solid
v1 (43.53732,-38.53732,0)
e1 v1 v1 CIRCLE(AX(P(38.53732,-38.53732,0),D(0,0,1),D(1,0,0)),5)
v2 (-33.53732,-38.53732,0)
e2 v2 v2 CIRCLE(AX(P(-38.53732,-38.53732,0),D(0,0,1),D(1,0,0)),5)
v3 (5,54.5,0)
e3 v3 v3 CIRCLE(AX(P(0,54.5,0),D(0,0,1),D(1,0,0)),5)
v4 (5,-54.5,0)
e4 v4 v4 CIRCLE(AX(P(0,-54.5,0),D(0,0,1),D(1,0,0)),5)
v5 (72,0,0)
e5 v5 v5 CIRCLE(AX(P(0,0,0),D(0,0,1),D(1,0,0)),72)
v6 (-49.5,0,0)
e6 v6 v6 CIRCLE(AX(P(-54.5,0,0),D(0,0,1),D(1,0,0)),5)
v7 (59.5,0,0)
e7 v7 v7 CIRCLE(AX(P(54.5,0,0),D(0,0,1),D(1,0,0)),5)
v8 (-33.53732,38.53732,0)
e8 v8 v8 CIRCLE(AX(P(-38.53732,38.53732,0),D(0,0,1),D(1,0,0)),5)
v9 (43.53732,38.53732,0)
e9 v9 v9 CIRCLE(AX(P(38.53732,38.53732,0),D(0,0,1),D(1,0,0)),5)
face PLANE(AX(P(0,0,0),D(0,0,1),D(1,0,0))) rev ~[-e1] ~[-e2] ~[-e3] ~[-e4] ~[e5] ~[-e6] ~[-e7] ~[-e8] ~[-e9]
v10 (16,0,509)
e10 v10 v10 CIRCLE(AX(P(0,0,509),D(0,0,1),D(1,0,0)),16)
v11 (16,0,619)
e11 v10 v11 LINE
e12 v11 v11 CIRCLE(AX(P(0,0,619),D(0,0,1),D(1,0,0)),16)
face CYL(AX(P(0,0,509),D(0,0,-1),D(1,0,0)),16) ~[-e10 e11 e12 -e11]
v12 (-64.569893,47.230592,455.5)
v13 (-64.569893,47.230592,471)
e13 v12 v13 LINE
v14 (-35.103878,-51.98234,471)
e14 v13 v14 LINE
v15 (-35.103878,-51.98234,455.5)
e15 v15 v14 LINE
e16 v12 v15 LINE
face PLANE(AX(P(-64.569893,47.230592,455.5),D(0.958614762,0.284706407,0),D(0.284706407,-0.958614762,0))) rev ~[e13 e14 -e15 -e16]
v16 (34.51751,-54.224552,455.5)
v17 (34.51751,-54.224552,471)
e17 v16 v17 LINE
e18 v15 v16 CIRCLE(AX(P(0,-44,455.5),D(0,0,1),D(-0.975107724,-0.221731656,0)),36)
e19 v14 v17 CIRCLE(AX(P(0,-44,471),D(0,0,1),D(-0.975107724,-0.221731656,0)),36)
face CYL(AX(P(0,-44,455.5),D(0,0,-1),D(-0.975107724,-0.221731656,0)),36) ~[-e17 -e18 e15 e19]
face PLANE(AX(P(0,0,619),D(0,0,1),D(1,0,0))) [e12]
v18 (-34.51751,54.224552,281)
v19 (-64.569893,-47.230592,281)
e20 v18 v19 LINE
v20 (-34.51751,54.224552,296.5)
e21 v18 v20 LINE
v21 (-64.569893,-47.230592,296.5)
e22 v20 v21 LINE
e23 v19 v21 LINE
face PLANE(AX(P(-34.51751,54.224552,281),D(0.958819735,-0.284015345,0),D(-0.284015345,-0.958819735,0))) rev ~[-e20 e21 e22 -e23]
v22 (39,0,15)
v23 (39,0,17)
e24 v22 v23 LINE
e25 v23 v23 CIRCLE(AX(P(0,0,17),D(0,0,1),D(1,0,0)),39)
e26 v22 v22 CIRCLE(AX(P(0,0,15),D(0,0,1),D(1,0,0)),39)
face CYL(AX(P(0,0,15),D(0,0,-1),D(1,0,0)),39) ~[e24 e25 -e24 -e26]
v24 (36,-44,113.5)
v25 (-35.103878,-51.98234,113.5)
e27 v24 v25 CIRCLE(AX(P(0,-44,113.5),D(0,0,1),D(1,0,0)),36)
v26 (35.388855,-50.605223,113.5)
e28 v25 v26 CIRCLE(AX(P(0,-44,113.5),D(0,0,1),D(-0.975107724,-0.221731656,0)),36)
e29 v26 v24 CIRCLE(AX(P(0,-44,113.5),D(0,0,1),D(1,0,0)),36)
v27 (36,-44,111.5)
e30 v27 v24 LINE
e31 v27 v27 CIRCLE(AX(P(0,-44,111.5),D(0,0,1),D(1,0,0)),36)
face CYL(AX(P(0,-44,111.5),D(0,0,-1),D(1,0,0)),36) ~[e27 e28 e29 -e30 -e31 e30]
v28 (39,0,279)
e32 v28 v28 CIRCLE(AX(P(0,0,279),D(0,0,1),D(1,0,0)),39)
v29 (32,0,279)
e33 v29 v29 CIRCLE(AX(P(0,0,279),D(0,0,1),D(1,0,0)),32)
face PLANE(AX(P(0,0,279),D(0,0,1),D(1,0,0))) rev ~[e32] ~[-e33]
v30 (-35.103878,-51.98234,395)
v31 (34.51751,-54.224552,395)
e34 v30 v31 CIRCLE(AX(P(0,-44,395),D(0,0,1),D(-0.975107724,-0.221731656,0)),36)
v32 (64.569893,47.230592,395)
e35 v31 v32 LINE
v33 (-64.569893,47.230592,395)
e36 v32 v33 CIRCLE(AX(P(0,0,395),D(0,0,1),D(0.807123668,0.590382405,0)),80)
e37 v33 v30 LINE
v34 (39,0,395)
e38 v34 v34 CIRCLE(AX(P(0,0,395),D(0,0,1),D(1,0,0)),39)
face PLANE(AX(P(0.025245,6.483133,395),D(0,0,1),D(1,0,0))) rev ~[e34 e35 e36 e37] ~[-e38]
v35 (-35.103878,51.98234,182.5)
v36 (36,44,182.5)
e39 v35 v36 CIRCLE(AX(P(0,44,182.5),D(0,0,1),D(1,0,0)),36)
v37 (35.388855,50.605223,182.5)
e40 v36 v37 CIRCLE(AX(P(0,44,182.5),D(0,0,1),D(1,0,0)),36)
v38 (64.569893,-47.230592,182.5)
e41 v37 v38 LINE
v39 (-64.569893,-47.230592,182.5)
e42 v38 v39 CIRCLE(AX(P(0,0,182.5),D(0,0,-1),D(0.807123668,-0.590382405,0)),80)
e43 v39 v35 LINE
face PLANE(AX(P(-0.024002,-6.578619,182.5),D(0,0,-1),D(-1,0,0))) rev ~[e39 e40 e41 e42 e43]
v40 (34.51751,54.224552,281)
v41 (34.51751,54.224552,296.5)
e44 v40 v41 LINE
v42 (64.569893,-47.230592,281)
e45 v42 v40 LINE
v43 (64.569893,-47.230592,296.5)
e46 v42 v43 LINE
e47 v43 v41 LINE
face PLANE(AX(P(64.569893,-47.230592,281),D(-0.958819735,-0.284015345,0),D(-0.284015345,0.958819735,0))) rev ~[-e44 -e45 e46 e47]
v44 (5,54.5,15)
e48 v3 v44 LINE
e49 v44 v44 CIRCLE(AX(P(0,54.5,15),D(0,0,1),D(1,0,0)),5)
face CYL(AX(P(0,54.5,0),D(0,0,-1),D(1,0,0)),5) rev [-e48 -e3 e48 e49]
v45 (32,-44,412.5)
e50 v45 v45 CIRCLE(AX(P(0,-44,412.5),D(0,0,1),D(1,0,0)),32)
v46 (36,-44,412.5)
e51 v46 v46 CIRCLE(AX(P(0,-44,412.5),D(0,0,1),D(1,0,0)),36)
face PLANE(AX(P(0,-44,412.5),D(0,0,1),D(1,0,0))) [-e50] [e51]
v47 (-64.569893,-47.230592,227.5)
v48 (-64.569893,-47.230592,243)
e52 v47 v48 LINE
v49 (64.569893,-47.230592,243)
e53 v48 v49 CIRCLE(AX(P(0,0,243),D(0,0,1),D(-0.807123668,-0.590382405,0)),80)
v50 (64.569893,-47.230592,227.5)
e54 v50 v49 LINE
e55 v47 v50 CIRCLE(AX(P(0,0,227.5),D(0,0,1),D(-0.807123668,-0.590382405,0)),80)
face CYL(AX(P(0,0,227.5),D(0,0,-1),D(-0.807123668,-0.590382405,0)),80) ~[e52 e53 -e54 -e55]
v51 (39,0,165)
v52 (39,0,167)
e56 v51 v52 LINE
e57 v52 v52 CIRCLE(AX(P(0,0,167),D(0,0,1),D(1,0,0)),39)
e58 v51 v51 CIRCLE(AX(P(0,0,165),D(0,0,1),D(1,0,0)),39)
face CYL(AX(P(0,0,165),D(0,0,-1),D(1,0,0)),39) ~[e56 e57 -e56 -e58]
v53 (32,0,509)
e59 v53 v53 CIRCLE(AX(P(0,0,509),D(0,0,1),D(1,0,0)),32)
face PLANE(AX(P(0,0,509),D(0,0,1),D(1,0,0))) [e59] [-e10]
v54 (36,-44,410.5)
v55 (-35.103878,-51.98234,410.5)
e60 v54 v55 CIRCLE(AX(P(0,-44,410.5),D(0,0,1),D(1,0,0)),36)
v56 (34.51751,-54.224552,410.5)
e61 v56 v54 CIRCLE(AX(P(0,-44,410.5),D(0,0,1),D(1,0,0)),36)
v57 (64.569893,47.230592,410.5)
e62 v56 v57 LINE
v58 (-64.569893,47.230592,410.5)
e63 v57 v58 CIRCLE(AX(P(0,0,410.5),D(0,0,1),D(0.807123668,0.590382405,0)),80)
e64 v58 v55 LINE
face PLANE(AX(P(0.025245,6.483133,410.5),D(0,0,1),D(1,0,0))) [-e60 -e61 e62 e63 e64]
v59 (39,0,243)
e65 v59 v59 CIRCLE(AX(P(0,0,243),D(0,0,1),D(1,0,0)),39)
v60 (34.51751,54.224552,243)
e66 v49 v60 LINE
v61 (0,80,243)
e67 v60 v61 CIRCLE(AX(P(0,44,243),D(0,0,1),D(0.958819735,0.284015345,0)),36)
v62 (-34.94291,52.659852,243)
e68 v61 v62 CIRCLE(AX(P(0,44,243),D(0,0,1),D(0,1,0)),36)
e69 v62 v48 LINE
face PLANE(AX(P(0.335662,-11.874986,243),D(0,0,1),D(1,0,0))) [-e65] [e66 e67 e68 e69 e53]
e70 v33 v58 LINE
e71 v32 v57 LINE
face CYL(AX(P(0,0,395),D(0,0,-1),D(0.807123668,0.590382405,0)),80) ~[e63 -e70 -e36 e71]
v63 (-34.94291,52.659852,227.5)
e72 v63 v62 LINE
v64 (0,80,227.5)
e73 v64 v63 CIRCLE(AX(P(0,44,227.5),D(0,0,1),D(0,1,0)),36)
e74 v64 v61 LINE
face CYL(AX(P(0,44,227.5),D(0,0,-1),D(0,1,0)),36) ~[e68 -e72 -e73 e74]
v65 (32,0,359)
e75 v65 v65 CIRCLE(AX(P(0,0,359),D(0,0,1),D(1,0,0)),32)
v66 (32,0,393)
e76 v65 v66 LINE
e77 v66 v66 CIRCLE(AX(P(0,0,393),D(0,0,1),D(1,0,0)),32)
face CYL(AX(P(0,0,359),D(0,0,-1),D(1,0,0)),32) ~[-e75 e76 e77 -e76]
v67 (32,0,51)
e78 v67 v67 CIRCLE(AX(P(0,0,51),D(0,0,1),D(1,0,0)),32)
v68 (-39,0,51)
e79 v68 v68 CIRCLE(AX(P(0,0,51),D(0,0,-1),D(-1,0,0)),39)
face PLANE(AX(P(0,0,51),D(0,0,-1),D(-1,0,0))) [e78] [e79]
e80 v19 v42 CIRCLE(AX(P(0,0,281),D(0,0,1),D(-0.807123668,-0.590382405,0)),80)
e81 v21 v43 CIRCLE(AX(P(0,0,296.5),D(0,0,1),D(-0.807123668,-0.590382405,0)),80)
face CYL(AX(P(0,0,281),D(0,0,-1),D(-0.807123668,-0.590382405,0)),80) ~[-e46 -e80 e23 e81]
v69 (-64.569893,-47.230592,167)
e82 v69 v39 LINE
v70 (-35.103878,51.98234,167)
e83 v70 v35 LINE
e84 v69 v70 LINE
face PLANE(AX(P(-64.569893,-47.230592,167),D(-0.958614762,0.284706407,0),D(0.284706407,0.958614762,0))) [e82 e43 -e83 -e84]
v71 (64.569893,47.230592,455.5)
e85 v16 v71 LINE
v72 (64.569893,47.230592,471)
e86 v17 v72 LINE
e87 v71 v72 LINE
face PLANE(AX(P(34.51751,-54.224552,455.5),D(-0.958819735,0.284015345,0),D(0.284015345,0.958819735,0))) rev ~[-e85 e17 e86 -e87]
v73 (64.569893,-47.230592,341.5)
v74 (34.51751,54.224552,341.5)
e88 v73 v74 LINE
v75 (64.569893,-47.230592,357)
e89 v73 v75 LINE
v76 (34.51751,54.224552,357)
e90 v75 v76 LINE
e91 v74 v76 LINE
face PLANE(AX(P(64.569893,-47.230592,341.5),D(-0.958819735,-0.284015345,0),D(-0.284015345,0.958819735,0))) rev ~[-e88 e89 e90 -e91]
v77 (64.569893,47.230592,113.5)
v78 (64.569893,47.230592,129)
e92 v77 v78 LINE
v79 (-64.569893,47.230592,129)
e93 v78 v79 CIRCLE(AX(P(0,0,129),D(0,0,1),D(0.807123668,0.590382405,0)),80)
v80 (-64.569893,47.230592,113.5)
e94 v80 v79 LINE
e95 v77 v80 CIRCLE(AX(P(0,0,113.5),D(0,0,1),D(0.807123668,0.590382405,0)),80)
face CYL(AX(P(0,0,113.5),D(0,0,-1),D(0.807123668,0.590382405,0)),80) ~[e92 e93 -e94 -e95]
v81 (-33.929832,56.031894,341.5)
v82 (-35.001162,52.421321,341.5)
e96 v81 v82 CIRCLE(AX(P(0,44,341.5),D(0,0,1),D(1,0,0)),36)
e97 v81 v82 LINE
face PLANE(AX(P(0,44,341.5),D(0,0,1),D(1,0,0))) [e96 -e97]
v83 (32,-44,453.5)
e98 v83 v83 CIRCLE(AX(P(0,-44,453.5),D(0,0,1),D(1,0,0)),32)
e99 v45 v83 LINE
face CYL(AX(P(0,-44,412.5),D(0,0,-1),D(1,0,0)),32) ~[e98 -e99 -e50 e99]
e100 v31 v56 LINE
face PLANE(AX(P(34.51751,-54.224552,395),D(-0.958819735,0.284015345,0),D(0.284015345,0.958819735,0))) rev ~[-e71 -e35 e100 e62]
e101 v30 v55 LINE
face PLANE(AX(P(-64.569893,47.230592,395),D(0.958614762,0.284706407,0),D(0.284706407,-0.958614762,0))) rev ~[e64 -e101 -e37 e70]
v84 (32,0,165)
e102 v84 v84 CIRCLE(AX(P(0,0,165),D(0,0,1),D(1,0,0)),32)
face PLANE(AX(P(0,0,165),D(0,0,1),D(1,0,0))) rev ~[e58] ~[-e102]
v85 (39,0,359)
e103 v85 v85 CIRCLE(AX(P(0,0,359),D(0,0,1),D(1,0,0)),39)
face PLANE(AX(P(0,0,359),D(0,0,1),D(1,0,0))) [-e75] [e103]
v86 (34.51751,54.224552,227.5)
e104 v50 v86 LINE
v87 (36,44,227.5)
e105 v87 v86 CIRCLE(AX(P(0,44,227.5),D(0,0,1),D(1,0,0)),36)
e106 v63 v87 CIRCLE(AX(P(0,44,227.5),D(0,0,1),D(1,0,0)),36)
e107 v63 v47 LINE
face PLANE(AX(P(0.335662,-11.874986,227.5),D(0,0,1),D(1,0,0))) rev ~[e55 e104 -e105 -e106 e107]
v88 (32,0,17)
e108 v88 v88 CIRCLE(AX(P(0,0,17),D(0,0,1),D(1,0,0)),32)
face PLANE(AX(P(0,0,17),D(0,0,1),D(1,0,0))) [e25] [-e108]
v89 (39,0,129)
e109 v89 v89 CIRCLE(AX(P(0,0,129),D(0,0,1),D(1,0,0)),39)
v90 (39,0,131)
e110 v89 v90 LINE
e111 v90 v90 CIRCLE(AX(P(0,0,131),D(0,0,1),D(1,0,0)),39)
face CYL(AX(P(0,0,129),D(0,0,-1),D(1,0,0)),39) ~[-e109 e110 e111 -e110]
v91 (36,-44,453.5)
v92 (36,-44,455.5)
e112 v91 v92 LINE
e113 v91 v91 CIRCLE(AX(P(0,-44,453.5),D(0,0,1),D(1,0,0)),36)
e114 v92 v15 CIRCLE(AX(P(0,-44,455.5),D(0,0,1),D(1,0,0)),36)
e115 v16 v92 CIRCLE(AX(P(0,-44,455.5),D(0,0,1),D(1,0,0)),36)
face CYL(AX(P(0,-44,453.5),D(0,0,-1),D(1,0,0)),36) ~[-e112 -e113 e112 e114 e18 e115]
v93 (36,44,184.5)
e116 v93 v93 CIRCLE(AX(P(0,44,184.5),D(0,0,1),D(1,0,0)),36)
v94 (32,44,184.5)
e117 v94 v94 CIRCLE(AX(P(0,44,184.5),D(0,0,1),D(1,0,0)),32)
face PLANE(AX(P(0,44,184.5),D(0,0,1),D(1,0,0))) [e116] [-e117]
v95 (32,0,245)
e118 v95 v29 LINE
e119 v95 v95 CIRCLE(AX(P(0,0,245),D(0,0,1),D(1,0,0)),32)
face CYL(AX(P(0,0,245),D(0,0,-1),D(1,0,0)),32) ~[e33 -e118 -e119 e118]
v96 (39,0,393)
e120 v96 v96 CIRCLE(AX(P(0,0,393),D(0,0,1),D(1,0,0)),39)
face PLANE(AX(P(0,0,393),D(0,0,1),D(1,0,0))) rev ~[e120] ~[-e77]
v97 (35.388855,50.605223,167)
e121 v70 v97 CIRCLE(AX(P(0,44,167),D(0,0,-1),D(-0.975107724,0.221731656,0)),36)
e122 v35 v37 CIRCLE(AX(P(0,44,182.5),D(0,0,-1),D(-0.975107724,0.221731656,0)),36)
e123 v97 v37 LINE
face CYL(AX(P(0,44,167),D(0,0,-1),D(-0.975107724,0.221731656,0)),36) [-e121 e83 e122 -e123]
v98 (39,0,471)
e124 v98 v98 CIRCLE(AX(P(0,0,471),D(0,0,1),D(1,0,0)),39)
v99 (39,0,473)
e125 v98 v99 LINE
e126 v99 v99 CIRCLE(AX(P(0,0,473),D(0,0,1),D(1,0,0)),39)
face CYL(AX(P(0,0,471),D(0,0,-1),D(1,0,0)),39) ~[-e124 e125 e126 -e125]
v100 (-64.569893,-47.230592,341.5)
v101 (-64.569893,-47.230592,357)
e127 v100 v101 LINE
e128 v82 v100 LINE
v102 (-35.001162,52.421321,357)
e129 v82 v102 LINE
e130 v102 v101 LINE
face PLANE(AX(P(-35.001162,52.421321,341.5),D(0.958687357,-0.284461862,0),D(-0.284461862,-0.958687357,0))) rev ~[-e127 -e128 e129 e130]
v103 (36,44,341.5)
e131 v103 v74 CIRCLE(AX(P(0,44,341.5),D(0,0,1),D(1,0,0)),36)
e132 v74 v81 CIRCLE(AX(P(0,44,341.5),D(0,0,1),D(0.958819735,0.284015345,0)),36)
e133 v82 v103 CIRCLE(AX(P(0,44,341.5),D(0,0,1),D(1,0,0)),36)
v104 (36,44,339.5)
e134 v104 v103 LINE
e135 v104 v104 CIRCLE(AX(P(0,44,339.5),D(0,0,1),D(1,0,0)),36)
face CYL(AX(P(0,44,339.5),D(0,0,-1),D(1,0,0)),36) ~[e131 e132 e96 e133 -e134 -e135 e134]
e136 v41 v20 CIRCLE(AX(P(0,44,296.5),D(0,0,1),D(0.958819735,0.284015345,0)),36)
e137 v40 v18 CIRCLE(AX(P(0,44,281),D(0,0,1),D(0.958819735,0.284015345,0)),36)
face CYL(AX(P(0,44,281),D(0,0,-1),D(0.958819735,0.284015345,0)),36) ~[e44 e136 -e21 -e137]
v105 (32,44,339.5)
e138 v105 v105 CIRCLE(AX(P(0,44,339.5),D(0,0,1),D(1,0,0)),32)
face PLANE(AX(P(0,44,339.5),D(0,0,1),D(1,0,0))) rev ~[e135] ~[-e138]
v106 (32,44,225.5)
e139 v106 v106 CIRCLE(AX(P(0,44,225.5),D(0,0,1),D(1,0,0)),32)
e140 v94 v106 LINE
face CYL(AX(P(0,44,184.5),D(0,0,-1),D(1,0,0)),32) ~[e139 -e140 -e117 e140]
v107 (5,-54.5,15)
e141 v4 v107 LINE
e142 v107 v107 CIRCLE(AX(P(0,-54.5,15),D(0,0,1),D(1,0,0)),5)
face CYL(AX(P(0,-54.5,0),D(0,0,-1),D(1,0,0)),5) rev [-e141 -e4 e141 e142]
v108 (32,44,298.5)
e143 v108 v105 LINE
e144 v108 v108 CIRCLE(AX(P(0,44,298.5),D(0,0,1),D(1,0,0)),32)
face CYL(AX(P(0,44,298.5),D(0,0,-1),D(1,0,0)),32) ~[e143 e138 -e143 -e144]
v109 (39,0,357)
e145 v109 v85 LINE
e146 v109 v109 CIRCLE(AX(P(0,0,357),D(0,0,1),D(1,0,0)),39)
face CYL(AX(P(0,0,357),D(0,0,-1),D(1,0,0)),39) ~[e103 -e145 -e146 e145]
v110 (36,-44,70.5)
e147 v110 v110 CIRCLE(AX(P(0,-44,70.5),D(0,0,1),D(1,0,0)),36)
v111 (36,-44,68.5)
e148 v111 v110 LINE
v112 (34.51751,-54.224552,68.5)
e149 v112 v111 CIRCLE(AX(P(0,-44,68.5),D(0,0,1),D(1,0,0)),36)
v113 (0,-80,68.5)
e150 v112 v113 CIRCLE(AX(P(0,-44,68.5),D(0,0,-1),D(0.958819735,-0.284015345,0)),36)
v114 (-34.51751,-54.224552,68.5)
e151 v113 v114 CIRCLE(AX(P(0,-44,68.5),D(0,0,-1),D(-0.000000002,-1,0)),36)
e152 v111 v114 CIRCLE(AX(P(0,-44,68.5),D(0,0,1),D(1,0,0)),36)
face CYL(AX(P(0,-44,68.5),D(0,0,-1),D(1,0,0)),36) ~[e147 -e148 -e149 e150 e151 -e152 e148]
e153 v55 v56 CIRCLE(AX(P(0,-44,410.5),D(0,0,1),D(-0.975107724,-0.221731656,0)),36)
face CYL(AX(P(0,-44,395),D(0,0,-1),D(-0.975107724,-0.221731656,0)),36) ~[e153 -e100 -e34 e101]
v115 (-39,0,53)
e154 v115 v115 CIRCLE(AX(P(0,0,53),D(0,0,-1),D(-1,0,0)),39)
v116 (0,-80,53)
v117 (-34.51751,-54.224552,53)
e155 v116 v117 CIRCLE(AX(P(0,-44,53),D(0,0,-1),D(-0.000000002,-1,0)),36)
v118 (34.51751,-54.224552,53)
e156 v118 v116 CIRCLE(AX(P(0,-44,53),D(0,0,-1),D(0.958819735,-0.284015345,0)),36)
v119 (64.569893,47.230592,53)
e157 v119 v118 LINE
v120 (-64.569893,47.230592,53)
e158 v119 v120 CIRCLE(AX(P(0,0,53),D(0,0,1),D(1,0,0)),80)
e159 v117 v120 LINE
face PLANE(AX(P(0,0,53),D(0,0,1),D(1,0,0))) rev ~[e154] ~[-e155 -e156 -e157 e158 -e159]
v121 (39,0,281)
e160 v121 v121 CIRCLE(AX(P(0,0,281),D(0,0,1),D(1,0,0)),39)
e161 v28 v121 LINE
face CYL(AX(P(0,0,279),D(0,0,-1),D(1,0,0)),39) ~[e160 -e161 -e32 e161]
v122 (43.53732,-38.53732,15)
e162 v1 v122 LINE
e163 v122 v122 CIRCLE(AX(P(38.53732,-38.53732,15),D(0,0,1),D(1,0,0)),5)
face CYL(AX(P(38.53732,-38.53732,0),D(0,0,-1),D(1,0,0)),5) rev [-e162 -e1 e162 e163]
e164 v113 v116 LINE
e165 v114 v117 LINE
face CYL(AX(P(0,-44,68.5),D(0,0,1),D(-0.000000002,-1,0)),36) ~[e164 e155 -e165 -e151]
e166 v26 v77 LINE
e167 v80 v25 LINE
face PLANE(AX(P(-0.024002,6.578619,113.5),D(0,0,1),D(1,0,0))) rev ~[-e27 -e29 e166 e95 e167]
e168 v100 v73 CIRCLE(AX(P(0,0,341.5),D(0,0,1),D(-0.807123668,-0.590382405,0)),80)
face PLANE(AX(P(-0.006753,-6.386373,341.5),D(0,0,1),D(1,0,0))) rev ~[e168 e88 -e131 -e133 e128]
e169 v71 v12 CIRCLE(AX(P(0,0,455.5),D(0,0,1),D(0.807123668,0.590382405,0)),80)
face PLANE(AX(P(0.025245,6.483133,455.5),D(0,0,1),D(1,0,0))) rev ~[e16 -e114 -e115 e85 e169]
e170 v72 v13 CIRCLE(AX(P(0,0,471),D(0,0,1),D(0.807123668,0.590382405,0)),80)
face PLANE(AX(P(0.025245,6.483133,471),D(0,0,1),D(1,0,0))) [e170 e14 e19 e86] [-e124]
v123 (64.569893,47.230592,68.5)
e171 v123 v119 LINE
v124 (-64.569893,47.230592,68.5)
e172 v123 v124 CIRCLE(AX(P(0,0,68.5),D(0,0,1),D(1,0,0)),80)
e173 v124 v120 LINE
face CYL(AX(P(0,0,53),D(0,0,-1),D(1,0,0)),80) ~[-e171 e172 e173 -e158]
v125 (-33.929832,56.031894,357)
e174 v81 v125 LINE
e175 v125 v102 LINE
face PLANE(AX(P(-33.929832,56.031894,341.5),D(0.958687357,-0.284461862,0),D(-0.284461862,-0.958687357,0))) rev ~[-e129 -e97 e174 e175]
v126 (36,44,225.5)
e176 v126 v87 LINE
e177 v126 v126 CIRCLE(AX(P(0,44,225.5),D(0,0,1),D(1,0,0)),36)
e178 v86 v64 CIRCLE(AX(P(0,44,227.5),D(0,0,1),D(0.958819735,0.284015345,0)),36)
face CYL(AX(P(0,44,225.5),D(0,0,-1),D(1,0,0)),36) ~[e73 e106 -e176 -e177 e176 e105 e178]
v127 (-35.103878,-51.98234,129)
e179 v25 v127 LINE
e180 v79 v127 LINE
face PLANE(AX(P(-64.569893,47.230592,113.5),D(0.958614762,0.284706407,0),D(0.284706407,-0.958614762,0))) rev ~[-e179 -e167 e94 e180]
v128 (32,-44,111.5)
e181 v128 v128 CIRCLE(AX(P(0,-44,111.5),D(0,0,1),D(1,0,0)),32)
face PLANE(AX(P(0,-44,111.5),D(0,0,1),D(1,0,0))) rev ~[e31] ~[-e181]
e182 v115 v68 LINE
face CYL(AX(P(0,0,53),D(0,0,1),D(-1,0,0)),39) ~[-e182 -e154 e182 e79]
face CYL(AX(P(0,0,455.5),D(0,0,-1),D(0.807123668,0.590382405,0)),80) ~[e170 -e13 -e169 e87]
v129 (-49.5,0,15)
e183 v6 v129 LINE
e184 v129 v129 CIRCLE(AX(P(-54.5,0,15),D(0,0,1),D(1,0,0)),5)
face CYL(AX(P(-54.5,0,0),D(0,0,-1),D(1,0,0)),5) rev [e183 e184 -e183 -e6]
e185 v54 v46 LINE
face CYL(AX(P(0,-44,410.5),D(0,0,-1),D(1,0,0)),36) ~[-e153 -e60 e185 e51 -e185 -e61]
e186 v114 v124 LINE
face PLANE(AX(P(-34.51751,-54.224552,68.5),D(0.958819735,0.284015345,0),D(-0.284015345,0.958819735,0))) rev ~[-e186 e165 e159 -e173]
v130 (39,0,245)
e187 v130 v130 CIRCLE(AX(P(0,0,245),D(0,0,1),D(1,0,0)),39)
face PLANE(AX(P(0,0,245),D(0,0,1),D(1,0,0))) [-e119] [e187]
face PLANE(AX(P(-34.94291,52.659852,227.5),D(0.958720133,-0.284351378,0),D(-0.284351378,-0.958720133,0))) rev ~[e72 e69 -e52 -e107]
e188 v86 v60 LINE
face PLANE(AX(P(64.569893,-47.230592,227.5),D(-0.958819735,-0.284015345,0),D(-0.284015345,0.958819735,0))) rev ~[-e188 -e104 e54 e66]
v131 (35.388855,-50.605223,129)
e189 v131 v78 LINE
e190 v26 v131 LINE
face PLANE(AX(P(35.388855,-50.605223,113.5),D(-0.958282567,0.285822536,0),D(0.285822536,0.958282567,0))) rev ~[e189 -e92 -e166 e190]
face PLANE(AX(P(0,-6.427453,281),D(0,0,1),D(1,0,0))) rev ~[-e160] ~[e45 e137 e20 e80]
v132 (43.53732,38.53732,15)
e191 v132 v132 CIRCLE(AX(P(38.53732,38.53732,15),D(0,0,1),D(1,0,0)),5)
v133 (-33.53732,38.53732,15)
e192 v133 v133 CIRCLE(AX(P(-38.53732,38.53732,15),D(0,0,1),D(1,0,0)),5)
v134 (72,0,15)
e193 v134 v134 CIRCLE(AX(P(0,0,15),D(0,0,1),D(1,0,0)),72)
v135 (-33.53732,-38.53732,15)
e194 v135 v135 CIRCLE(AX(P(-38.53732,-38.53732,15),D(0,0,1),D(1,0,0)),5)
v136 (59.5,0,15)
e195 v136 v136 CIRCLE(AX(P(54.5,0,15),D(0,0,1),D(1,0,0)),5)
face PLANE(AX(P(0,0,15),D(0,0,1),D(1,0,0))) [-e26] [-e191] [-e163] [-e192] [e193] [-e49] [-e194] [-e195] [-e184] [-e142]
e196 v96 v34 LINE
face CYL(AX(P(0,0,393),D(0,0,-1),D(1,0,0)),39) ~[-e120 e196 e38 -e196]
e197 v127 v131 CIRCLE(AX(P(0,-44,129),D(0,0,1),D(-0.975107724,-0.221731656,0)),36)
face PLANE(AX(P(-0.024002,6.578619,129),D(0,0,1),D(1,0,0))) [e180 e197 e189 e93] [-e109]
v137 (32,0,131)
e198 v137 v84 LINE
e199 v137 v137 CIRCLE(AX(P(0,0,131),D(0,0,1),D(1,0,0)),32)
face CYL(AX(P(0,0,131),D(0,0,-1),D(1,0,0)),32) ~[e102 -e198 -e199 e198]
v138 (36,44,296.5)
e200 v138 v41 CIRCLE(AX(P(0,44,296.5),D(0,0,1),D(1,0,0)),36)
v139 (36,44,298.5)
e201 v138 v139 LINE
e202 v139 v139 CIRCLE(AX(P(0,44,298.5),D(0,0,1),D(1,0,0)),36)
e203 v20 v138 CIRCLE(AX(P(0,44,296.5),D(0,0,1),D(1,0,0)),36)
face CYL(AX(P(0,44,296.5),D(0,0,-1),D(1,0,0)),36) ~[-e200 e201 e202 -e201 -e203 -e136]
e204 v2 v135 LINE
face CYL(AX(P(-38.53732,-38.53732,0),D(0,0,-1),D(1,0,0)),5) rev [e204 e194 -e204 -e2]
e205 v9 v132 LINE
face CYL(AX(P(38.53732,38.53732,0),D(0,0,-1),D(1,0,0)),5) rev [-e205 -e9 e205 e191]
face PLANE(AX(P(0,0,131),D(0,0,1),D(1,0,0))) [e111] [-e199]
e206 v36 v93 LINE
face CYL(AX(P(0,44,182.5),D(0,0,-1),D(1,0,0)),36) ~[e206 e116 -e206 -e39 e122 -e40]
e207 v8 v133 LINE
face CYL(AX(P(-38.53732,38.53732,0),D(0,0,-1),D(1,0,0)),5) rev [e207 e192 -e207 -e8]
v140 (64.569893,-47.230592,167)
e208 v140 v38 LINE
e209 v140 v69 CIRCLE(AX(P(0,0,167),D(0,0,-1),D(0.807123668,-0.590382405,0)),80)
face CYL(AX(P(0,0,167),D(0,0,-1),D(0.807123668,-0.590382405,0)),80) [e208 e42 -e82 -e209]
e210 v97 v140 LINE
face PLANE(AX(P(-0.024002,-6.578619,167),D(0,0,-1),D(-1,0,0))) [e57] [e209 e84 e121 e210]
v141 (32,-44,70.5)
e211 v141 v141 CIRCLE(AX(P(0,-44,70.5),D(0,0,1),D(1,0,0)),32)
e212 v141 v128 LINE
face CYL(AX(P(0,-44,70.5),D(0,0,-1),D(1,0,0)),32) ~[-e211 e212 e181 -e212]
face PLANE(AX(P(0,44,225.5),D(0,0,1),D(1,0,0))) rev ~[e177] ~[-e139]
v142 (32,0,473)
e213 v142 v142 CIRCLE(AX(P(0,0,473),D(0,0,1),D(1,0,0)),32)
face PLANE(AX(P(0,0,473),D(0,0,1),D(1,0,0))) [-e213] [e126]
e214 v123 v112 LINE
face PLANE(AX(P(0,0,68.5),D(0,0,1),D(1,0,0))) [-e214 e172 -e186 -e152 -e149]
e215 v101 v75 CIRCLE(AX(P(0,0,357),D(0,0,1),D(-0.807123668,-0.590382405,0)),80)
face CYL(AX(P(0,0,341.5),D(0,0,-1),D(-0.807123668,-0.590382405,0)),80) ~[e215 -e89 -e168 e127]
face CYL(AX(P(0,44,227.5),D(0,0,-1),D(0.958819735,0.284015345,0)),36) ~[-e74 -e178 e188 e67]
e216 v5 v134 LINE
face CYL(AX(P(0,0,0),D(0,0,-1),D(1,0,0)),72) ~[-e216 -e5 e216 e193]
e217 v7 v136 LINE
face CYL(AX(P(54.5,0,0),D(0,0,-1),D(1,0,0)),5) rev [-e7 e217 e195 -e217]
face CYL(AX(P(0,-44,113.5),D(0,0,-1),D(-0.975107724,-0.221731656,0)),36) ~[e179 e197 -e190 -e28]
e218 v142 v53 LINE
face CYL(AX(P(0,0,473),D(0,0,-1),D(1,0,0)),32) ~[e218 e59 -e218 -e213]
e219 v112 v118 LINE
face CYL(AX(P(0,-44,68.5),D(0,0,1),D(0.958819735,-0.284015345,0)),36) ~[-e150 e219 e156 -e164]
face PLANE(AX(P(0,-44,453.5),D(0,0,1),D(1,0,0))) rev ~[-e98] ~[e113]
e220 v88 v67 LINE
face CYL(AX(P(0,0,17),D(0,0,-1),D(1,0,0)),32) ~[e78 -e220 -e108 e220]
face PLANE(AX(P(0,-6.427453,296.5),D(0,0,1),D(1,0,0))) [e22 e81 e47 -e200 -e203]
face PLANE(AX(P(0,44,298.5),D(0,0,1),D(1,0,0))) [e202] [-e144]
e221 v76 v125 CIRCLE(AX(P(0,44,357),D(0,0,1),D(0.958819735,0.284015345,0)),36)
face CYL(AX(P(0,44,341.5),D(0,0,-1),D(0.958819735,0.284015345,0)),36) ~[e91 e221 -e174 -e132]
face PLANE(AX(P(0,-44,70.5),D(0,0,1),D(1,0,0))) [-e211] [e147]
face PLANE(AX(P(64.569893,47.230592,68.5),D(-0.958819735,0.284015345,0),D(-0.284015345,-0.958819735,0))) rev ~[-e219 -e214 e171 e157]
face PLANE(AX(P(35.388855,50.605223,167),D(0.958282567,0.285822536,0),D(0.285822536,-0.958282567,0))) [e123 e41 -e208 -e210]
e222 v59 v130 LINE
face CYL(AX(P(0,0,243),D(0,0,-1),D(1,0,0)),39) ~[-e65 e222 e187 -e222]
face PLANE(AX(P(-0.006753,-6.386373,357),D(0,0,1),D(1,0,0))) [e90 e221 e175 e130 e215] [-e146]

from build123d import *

# Parameters (mm, degrees)
SKETCH1_R            = 72
SKETCH1_R_2          = 5
BOSS_EXTRUDE1_DEPTH  = 15
SKETCH2_R            = 39
BOSS_EXTRUDE2_DEPTH  = 2
SKETCH3_R            = 32
BOSS_EXTRUDE3_DEPTH  = 36
SKETCH4_R            = 80
BOSS_EXTRUDE4_DEPTH  = 15.5
CUT_EXTRUDE2_DEPTH   = 15.5
SKETCH7_R            = 39
SKETCH7_R_2          = 32
BOSS_EXTRUDE6_DEPTH  = 2
SKETCH9_R            = 36
BOSS_EXTRUDE7_DEPTH  = 2
SKETCH10_R           = 32
BOSS_EXTRUDE8_DEPTH  = 41
SKETCH11_R           = 36
BOSS_EXTRUDE9_DEPTH  = 2
BOSS_EXTRUDE10_DEPTH = 15.5
SKETCH14_R           = 39
BOSS_EXTRUDE11_DEPTH = 2
SKETCH15_R           = 32
BOSS_EXTRUDE12_DEPTH = 34
SKETCH16_R           = 39
BOSS_EXTRUDE13_DEPTH = 2
BOSS_EXTRUDE14_DEPTH = 15.5
SKETCH18_R           = 36
BOSS_EXTRUDE15_DEPTH = 2
SKETCH19_R           = 32
BOSS_EXTRUDE16_DEPTH = 41
SKETCH20_R           = 36
BOSS_EXTRUDE17_DEPTH = 2
BOSS_EXTRUDE18_DEPTH = 15.5
SKETCH22_R           = 39
BOSS_EXTRUDE19_DEPTH = 2
SKETCH23_R           = 32
BOSS_EXTRUDE20_DEPTH = 34
SKETCH24_R           = 39
BOSS_EXTRUDE21_DEPTH = 2
BOSS_EXTRUDE22_DEPTH = 15.5
SKETCH29_R           = 36
BOSS_EXTRUDE26_DEPTH = 2
SKETCH30_R           = 32
BOSS_EXTRUDE27_DEPTH = 41
SKETCH31_R           = 36
BOSS_EXTRUDE28_DEPTH = 2
BOSS_EXTRUDE29_DEPTH = 15.5
SKETCH33_R           = 39
BOSS_EXTRUDE30_DEPTH = 2
SKETCH34_R           = 32
BOSS_EXTRUDE31_DEPTH = 34
SKETCH35_R           = 39
BOSS_EXTRUDE32_DEPTH = 2
BOSS_EXTRUDE33_DEPTH = 15.5
SKETCH37_R           = 36
BOSS_EXTRUDE34_DEPTH = 2
SKETCH38_R           = 32
BOSS_EXTRUDE35_DEPTH = 41
SKETCH39_R           = 36
BOSS_EXTRUDE36_DEPTH = 2
BOSS_EXTRUDE37_DEPTH = 15.5
SKETCH43_R           = 39
BOSS_EXTRUDE38_DEPTH = 2
SKETCH44_R           = 32
BOSS_EXTRUDE39_DEPTH = 36
SKETCH45_R           = 16
BOSS_EXTRUDE40_DEPTH = 110


with BuildPart() as part:
    # Sketch1 → Boss-Extrude1 (new body)
    with BuildSketch(Plane.XY):
        Circle(SKETCH1_R)
        with Locations((0, 54.5)):
            Circle(SKETCH1_R_2, mode=Mode.SUBTRACT)
        with Locations((38.537319575, 38.537319575)):
            Circle(SKETCH1_R_2, mode=Mode.SUBTRACT)
        with Locations((54.5, 0)):
            Circle(SKETCH1_R_2, mode=Mode.SUBTRACT)
        with Locations((38.537319575, -38.537319575)):
            Circle(SKETCH1_R_2, mode=Mode.SUBTRACT)
        with Locations((0, -54.5)):
            Circle(SKETCH1_R_2, mode=Mode.SUBTRACT)
        with Locations((-38.537319575, -38.537319575)):
            Circle(SKETCH1_R_2, mode=Mode.SUBTRACT)
        with Locations((-54.5, 0)):
            Circle(SKETCH1_R_2, mode=Mode.SUBTRACT)
        with Locations((-38.537319575, 38.537319575)):
            Circle(SKETCH1_R_2, mode=Mode.SUBTRACT)
    extrude(amount=BOSS_EXTRUDE1_DEPTH)

    # Sketch2 → Boss-Extrude2 (add)
    with BuildSketch(Plane.XY.offset(15)):
        Circle(SKETCH2_R)
    extrude(amount=BOSS_EXTRUDE2_DEPTH)

    # Sketch3 → Boss-Extrude3 (add)
    with BuildSketch(Plane.XY.offset(17)):
        Circle(SKETCH3_R)
    extrude(amount=BOSS_EXTRUDE3_DEPTH)

    # Sketch4 → Boss-Extrude4 (add)
    with BuildSketch(Plane.XY.offset(53)):
        Circle(SKETCH4_R)
    extrude(amount=BOSS_EXTRUDE4_DEPTH)

    # Sketch5 → Cut-Extrude2 (cut)
    with BuildSketch(Plane.XY.offset(68.5)):
        with BuildLine():
            ThreePointArc((-7.7e-08, -80), (-21.539685652, -72.845137234), (-34.517510455, -54.224552409))
            Line((-34.517510455, -54.224552409), (-64.569893475, 47.23059238))
            ThreePointArc((-64.569893475, 47.23059238), (-71.33879518, -36.204644761), (-7.7e-08, -80))
        make_face()
        with BuildLine():
            ThreePointArc((34.517510455, -54.224552409), (21.53968559, -72.84513728), (-7.7e-08, -80))
            ThreePointArc((-7.7e-08, -80), (56.568542468, -56.568542522), (80, 0))
            ThreePointArc((80, 0), (76.044695667, 24.843595975), (64.569893475, 47.23059238))
            Line((64.569893475, 47.23059238), (34.517510455, -54.224552409))
        make_face()
    extrude(amount=-CUT_EXTRUDE2_DEPTH, mode=Mode.SUBTRACT)

    # Sketch7 → Boss-Extrude6 (add)
    with BuildSketch(Plane(origin=(0, 0, 53), x_dir=(-1, 0, 0), z_dir=(0, 0, -1))):
        Circle(SKETCH7_R)
        Circle(SKETCH7_R_2, mode=Mode.SUBTRACT)
    extrude(amount=BOSS_EXTRUDE6_DEPTH)

    # Sketch9 → Boss-Extrude7 (add)
    with BuildSketch(Plane.XY.offset(68.5)):
        with Locations((0, -44)):
            Circle(SKETCH9_R)
    extrude(amount=BOSS_EXTRUDE7_DEPTH)

    # Sketch10 → Boss-Extrude8 (add)
    with BuildSketch(Plane.XY.offset(70.5)):
        with Locations((0, -44)):
            Circle(SKETCH10_R)
    extrude(amount=BOSS_EXTRUDE8_DEPTH)

    # Sketch11 → Boss-Extrude9 (add)
    with BuildSketch(Plane.XY.offset(111.5)):
        with Locations((0, -44)):
            Circle(SKETCH11_R)
    extrude(amount=BOSS_EXTRUDE9_DEPTH)

    # Sketch13 → Boss-Extrude10 (add)
    with BuildSketch(Plane.XY.offset(113.5)):
        with BuildLine():
            Line((-64.569893475, 47.23059238), (-35.103878052, -51.982339614))
            ThreePointArc((-35.103878052, -51.982339614), (0.703146821, -79.993132464), (35.38885459, -50.605222996))
            Line((35.38885459, -50.605222996), (64.569893475, 47.23059238))
            ThreePointArc((64.569893475, 47.23059238), (0, 80), (-64.569893475, 47.23059238))
        make_face()
    extrude(amount=BOSS_EXTRUDE10_DEPTH)

    # Sketch14 → Boss-Extrude11 (add)
    with BuildSketch(Plane.XY.offset(129)):
        Circle(SKETCH14_R)
    extrude(amount=BOSS_EXTRUDE11_DEPTH)

    # Sketch15 → Boss-Extrude12 (add)
    with BuildSketch(Plane.XY.offset(131)):
        Circle(SKETCH15_R)
    extrude(amount=BOSS_EXTRUDE12_DEPTH)

    # Sketch16 → Boss-Extrude13 (add)
    with BuildSketch(Plane.XY.offset(165)):
        Circle(SKETCH16_R)
    extrude(amount=BOSS_EXTRUDE13_DEPTH)

    # Sketch17 → Boss-Extrude14 (add)
    with BuildSketch(Plane.XY.offset(167)):
        with BuildLine():
            Line((-64.569893475, -47.23059238), (-35.103878052, 51.982339614))
            ThreePointArc((-35.103878052, 51.982339614), (0.703146821, 79.993132464), (35.38885459, 50.605222996))
            Line((35.38885459, 50.605222996), (64.569893475, -47.23059238))
            ThreePointArc((64.569893475, -47.23059238), (0, -80), (-64.569893475, -47.23059238))
        make_face()
    extrude(amount=BOSS_EXTRUDE14_DEPTH)

    # Sketch18 → Boss-Extrude15 (add)
    with BuildSketch(Plane.XY.offset(182.5)):
        with Locations((0, 44)):
            Circle(SKETCH18_R)
    extrude(amount=BOSS_EXTRUDE15_DEPTH)

    # Sketch19 → Boss-Extrude16 (add)
    with BuildSketch(Plane.XY.offset(184.5)):
        with Locations((0, 44)):
            Circle(SKETCH19_R)
    extrude(amount=BOSS_EXTRUDE16_DEPTH)

    # Sketch20 → Boss-Extrude17 (add)
    with BuildSketch(Plane.XY.offset(225.5)):
        with Locations((0, 44)):
            Circle(SKETCH20_R)
    extrude(amount=BOSS_EXTRUDE17_DEPTH)

    # Sketch21 → Boss-Extrude18 (add)
    with BuildSketch(Plane.XY.offset(227.5)):
        with BuildLine():
            Line((-34.94290999, 52.659852274), (-64.569893475, -47.23059238))
            ThreePointArc((-64.569893475, -47.23059238), (0, -80), (64.569893475, -47.23059238))
            Line((64.569893475, -47.23059238), (34.517510455, 54.224552409))
            ThreePointArc((34.517510455, 54.224552409), (35.627449926, 49.165734392), (36, 44))
            ThreePointArc((36, 44), (-4.362066044, 8.265249688), (-34.94290999, 52.659852274))
        make_face()
        with BuildLine():
            ThreePointArc((0, 80), (-22.183837789, 72.352730749), (-34.94290999, 52.659852274))
            ThreePointArc((-34.94290999, 52.659852274), (-4.362066044, 8.265249688), (36, 44))
            ThreePointArc((36, 44), (35.627449926, 49.165734392), (34.517510455, 54.224552409))
            ThreePointArc((34.517510455, 54.224552409), (21.539685621, 72.845137257), (0, 80))
        make_face()
    extrude(amount=BOSS_EXTRUDE18_DEPTH)

    # Sketch22 → Boss-Extrude19 (add)
    with BuildSketch(Plane.XY.offset(243)):
        Circle(SKETCH22_R)
    extrude(amount=BOSS_EXTRUDE19_DEPTH)

    # Sketch23 → Boss-Extrude20 (add)
    with BuildSketch(Plane.XY.offset(245)):
        Circle(SKETCH23_R)
    extrude(amount=BOSS_EXTRUDE20_DEPTH)

    # Sketch24 → Boss-Extrude21 (add)
    with BuildSketch(Plane.XY.offset(279)):
        Circle(SKETCH24_R)
    extrude(amount=BOSS_EXTRUDE21_DEPTH)

    # Sketch25 → Boss-Extrude22 (add)
    with BuildSketch(Plane.XY.offset(281)):
        with BuildLine():
            Line((64.569893475, -47.23059238), (34.517510455, 54.224552409))
            ThreePointArc((34.517510455, 54.224552409), (0, 80), (-34.517510455, 54.224552409))
            Line((-34.517510455, 54.224552409), (-64.569893475, -47.23059238))
            ThreePointArc((-64.569893475, -47.23059238), (0, -80), (64.569893475, -47.23059238))
        make_face()
    extrude(amount=BOSS_EXTRUDE22_DEPTH)

    # Sketch29 → Boss-Extrude26 (add)
    with BuildSketch(Plane.XY.offset(296.5)):
        with Locations((0, 44)):
            Circle(SKETCH29_R)
    extrude(amount=BOSS_EXTRUDE26_DEPTH)

    # Sketch30 → Boss-Extrude27 (add)
    with BuildSketch(Plane.XY.offset(298.5)):
        with Locations((0, 44)):
            Circle(SKETCH30_R)
    extrude(amount=BOSS_EXTRUDE27_DEPTH)

    # Sketch31 → Boss-Extrude28 (add)
    with BuildSketch(Plane.XY.offset(339.5)):
        with Locations((0, 44)):
            Circle(SKETCH31_R)
    extrude(amount=BOSS_EXTRUDE28_DEPTH)

    # Sketch32 → Boss-Extrude29 (add)
    with BuildSketch(Plane.XY.offset(341.5)):
        with BuildLine():
            Line((-35.001162126, 52.421321146), (-64.569893475, -47.23059238))
            ThreePointArc((-64.569893475, -47.23059238), (0, -80), (64.569893475, -47.23059238))
            Line((64.569893475, -47.23059238), (34.517510455, 54.224552409))
            ThreePointArc((34.517510455, 54.224552409), (0.950243427, 79.987456668), (-33.929832299, 56.031894288))
            Line((-33.929832299, 56.031894288), (-35.001162126, 52.421321146))
        make_face()
    extrude(amount=BOSS_EXTRUDE29_DEPTH)

    # Sketch33 → Boss-Extrude30 (add)
    with BuildSketch(Plane.XY.offset(357)):
        Circle(SKETCH33_R)
    extrude(amount=BOSS_EXTRUDE30_DEPTH)

    # Sketch34 → Boss-Extrude31 (add)
    with BuildSketch(Plane.XY.offset(359)):
        Circle(SKETCH34_R)
    extrude(amount=BOSS_EXTRUDE31_DEPTH)

    # Sketch35 → Boss-Extrude32 (add)
    with BuildSketch(Plane.XY.offset(393)):
        Circle(SKETCH35_R)
    extrude(amount=BOSS_EXTRUDE32_DEPTH)

    # Sketch36 → Boss-Extrude33 (add)
    with BuildSketch(Plane.XY.offset(395)):
        with BuildLine():
            Line((-64.569893475, 47.23059238), (-35.103878052, -51.982339614))
            ThreePointArc((-35.103878052, -51.982339614), (-1.158808135, -79.981344662), (34.517510455, -54.224552409))
            Line((34.517510455, -54.224552409), (64.569893475, 47.23059238))
            ThreePointArc((64.569893475, 47.23059238), (0, 80), (-64.569893475, 47.23059238))
        make_face()
    extrude(amount=BOSS_EXTRUDE33_DEPTH)

    # Sketch37 → Boss-Extrude34 (add)
    with BuildSketch(Plane.XY.offset(410.5)):
        with Locations((0, -44)):
            Circle(SKETCH37_R)
    extrude(amount=BOSS_EXTRUDE34_DEPTH)

    # Sketch38 → Boss-Extrude35 (add)
    with BuildSketch(Plane.XY.offset(412.5)):
        with Locations((0, -44)):
            Circle(SKETCH38_R)
    extrude(amount=BOSS_EXTRUDE35_DEPTH)

    # Sketch39 → Boss-Extrude36 (add)
    with BuildSketch(Plane.XY.offset(453.5)):
        with Locations((0, -44)):
            Circle(SKETCH39_R)
    extrude(amount=BOSS_EXTRUDE36_DEPTH)

    # Sketch42 → Boss-Extrude37 (add)
    with BuildSketch(Plane.XY.offset(455.5)):
        with BuildLine():
            Line((-64.569893475, 47.23059238), (-35.103878052, -51.982339614))
            ThreePointArc((-35.103878052, -51.982339614), (-1.158808135, -79.981344662), (34.517510455, -54.224552409))
            Line((34.517510455, -54.224552409), (64.569893475, 47.23059238))
            ThreePointArc((64.569893475, 47.23059238), (0, 80), (-64.569893475, 47.23059238))
        make_face()
    extrude(amount=BOSS_EXTRUDE37_DEPTH)

    # Sketch43 → Boss-Extrude38 (add)
    with BuildSketch(Plane.XY.offset(471)):
        Circle(SKETCH43_R)
    extrude(amount=BOSS_EXTRUDE38_DEPTH)

    # Sketch44 → Boss-Extrude39 (add)
    with BuildSketch(Plane.XY.offset(473)):
        Circle(SKETCH44_R)
    extrude(amount=BOSS_EXTRUDE39_DEPTH)

    # Sketch45 → Boss-Extrude40 (add)
    with BuildSketch(Plane.XY.offset(509)):
        Circle(SKETCH45_R)
    extrude(amount=BOSS_EXTRUDE40_DEPTH)


solid = part.part
